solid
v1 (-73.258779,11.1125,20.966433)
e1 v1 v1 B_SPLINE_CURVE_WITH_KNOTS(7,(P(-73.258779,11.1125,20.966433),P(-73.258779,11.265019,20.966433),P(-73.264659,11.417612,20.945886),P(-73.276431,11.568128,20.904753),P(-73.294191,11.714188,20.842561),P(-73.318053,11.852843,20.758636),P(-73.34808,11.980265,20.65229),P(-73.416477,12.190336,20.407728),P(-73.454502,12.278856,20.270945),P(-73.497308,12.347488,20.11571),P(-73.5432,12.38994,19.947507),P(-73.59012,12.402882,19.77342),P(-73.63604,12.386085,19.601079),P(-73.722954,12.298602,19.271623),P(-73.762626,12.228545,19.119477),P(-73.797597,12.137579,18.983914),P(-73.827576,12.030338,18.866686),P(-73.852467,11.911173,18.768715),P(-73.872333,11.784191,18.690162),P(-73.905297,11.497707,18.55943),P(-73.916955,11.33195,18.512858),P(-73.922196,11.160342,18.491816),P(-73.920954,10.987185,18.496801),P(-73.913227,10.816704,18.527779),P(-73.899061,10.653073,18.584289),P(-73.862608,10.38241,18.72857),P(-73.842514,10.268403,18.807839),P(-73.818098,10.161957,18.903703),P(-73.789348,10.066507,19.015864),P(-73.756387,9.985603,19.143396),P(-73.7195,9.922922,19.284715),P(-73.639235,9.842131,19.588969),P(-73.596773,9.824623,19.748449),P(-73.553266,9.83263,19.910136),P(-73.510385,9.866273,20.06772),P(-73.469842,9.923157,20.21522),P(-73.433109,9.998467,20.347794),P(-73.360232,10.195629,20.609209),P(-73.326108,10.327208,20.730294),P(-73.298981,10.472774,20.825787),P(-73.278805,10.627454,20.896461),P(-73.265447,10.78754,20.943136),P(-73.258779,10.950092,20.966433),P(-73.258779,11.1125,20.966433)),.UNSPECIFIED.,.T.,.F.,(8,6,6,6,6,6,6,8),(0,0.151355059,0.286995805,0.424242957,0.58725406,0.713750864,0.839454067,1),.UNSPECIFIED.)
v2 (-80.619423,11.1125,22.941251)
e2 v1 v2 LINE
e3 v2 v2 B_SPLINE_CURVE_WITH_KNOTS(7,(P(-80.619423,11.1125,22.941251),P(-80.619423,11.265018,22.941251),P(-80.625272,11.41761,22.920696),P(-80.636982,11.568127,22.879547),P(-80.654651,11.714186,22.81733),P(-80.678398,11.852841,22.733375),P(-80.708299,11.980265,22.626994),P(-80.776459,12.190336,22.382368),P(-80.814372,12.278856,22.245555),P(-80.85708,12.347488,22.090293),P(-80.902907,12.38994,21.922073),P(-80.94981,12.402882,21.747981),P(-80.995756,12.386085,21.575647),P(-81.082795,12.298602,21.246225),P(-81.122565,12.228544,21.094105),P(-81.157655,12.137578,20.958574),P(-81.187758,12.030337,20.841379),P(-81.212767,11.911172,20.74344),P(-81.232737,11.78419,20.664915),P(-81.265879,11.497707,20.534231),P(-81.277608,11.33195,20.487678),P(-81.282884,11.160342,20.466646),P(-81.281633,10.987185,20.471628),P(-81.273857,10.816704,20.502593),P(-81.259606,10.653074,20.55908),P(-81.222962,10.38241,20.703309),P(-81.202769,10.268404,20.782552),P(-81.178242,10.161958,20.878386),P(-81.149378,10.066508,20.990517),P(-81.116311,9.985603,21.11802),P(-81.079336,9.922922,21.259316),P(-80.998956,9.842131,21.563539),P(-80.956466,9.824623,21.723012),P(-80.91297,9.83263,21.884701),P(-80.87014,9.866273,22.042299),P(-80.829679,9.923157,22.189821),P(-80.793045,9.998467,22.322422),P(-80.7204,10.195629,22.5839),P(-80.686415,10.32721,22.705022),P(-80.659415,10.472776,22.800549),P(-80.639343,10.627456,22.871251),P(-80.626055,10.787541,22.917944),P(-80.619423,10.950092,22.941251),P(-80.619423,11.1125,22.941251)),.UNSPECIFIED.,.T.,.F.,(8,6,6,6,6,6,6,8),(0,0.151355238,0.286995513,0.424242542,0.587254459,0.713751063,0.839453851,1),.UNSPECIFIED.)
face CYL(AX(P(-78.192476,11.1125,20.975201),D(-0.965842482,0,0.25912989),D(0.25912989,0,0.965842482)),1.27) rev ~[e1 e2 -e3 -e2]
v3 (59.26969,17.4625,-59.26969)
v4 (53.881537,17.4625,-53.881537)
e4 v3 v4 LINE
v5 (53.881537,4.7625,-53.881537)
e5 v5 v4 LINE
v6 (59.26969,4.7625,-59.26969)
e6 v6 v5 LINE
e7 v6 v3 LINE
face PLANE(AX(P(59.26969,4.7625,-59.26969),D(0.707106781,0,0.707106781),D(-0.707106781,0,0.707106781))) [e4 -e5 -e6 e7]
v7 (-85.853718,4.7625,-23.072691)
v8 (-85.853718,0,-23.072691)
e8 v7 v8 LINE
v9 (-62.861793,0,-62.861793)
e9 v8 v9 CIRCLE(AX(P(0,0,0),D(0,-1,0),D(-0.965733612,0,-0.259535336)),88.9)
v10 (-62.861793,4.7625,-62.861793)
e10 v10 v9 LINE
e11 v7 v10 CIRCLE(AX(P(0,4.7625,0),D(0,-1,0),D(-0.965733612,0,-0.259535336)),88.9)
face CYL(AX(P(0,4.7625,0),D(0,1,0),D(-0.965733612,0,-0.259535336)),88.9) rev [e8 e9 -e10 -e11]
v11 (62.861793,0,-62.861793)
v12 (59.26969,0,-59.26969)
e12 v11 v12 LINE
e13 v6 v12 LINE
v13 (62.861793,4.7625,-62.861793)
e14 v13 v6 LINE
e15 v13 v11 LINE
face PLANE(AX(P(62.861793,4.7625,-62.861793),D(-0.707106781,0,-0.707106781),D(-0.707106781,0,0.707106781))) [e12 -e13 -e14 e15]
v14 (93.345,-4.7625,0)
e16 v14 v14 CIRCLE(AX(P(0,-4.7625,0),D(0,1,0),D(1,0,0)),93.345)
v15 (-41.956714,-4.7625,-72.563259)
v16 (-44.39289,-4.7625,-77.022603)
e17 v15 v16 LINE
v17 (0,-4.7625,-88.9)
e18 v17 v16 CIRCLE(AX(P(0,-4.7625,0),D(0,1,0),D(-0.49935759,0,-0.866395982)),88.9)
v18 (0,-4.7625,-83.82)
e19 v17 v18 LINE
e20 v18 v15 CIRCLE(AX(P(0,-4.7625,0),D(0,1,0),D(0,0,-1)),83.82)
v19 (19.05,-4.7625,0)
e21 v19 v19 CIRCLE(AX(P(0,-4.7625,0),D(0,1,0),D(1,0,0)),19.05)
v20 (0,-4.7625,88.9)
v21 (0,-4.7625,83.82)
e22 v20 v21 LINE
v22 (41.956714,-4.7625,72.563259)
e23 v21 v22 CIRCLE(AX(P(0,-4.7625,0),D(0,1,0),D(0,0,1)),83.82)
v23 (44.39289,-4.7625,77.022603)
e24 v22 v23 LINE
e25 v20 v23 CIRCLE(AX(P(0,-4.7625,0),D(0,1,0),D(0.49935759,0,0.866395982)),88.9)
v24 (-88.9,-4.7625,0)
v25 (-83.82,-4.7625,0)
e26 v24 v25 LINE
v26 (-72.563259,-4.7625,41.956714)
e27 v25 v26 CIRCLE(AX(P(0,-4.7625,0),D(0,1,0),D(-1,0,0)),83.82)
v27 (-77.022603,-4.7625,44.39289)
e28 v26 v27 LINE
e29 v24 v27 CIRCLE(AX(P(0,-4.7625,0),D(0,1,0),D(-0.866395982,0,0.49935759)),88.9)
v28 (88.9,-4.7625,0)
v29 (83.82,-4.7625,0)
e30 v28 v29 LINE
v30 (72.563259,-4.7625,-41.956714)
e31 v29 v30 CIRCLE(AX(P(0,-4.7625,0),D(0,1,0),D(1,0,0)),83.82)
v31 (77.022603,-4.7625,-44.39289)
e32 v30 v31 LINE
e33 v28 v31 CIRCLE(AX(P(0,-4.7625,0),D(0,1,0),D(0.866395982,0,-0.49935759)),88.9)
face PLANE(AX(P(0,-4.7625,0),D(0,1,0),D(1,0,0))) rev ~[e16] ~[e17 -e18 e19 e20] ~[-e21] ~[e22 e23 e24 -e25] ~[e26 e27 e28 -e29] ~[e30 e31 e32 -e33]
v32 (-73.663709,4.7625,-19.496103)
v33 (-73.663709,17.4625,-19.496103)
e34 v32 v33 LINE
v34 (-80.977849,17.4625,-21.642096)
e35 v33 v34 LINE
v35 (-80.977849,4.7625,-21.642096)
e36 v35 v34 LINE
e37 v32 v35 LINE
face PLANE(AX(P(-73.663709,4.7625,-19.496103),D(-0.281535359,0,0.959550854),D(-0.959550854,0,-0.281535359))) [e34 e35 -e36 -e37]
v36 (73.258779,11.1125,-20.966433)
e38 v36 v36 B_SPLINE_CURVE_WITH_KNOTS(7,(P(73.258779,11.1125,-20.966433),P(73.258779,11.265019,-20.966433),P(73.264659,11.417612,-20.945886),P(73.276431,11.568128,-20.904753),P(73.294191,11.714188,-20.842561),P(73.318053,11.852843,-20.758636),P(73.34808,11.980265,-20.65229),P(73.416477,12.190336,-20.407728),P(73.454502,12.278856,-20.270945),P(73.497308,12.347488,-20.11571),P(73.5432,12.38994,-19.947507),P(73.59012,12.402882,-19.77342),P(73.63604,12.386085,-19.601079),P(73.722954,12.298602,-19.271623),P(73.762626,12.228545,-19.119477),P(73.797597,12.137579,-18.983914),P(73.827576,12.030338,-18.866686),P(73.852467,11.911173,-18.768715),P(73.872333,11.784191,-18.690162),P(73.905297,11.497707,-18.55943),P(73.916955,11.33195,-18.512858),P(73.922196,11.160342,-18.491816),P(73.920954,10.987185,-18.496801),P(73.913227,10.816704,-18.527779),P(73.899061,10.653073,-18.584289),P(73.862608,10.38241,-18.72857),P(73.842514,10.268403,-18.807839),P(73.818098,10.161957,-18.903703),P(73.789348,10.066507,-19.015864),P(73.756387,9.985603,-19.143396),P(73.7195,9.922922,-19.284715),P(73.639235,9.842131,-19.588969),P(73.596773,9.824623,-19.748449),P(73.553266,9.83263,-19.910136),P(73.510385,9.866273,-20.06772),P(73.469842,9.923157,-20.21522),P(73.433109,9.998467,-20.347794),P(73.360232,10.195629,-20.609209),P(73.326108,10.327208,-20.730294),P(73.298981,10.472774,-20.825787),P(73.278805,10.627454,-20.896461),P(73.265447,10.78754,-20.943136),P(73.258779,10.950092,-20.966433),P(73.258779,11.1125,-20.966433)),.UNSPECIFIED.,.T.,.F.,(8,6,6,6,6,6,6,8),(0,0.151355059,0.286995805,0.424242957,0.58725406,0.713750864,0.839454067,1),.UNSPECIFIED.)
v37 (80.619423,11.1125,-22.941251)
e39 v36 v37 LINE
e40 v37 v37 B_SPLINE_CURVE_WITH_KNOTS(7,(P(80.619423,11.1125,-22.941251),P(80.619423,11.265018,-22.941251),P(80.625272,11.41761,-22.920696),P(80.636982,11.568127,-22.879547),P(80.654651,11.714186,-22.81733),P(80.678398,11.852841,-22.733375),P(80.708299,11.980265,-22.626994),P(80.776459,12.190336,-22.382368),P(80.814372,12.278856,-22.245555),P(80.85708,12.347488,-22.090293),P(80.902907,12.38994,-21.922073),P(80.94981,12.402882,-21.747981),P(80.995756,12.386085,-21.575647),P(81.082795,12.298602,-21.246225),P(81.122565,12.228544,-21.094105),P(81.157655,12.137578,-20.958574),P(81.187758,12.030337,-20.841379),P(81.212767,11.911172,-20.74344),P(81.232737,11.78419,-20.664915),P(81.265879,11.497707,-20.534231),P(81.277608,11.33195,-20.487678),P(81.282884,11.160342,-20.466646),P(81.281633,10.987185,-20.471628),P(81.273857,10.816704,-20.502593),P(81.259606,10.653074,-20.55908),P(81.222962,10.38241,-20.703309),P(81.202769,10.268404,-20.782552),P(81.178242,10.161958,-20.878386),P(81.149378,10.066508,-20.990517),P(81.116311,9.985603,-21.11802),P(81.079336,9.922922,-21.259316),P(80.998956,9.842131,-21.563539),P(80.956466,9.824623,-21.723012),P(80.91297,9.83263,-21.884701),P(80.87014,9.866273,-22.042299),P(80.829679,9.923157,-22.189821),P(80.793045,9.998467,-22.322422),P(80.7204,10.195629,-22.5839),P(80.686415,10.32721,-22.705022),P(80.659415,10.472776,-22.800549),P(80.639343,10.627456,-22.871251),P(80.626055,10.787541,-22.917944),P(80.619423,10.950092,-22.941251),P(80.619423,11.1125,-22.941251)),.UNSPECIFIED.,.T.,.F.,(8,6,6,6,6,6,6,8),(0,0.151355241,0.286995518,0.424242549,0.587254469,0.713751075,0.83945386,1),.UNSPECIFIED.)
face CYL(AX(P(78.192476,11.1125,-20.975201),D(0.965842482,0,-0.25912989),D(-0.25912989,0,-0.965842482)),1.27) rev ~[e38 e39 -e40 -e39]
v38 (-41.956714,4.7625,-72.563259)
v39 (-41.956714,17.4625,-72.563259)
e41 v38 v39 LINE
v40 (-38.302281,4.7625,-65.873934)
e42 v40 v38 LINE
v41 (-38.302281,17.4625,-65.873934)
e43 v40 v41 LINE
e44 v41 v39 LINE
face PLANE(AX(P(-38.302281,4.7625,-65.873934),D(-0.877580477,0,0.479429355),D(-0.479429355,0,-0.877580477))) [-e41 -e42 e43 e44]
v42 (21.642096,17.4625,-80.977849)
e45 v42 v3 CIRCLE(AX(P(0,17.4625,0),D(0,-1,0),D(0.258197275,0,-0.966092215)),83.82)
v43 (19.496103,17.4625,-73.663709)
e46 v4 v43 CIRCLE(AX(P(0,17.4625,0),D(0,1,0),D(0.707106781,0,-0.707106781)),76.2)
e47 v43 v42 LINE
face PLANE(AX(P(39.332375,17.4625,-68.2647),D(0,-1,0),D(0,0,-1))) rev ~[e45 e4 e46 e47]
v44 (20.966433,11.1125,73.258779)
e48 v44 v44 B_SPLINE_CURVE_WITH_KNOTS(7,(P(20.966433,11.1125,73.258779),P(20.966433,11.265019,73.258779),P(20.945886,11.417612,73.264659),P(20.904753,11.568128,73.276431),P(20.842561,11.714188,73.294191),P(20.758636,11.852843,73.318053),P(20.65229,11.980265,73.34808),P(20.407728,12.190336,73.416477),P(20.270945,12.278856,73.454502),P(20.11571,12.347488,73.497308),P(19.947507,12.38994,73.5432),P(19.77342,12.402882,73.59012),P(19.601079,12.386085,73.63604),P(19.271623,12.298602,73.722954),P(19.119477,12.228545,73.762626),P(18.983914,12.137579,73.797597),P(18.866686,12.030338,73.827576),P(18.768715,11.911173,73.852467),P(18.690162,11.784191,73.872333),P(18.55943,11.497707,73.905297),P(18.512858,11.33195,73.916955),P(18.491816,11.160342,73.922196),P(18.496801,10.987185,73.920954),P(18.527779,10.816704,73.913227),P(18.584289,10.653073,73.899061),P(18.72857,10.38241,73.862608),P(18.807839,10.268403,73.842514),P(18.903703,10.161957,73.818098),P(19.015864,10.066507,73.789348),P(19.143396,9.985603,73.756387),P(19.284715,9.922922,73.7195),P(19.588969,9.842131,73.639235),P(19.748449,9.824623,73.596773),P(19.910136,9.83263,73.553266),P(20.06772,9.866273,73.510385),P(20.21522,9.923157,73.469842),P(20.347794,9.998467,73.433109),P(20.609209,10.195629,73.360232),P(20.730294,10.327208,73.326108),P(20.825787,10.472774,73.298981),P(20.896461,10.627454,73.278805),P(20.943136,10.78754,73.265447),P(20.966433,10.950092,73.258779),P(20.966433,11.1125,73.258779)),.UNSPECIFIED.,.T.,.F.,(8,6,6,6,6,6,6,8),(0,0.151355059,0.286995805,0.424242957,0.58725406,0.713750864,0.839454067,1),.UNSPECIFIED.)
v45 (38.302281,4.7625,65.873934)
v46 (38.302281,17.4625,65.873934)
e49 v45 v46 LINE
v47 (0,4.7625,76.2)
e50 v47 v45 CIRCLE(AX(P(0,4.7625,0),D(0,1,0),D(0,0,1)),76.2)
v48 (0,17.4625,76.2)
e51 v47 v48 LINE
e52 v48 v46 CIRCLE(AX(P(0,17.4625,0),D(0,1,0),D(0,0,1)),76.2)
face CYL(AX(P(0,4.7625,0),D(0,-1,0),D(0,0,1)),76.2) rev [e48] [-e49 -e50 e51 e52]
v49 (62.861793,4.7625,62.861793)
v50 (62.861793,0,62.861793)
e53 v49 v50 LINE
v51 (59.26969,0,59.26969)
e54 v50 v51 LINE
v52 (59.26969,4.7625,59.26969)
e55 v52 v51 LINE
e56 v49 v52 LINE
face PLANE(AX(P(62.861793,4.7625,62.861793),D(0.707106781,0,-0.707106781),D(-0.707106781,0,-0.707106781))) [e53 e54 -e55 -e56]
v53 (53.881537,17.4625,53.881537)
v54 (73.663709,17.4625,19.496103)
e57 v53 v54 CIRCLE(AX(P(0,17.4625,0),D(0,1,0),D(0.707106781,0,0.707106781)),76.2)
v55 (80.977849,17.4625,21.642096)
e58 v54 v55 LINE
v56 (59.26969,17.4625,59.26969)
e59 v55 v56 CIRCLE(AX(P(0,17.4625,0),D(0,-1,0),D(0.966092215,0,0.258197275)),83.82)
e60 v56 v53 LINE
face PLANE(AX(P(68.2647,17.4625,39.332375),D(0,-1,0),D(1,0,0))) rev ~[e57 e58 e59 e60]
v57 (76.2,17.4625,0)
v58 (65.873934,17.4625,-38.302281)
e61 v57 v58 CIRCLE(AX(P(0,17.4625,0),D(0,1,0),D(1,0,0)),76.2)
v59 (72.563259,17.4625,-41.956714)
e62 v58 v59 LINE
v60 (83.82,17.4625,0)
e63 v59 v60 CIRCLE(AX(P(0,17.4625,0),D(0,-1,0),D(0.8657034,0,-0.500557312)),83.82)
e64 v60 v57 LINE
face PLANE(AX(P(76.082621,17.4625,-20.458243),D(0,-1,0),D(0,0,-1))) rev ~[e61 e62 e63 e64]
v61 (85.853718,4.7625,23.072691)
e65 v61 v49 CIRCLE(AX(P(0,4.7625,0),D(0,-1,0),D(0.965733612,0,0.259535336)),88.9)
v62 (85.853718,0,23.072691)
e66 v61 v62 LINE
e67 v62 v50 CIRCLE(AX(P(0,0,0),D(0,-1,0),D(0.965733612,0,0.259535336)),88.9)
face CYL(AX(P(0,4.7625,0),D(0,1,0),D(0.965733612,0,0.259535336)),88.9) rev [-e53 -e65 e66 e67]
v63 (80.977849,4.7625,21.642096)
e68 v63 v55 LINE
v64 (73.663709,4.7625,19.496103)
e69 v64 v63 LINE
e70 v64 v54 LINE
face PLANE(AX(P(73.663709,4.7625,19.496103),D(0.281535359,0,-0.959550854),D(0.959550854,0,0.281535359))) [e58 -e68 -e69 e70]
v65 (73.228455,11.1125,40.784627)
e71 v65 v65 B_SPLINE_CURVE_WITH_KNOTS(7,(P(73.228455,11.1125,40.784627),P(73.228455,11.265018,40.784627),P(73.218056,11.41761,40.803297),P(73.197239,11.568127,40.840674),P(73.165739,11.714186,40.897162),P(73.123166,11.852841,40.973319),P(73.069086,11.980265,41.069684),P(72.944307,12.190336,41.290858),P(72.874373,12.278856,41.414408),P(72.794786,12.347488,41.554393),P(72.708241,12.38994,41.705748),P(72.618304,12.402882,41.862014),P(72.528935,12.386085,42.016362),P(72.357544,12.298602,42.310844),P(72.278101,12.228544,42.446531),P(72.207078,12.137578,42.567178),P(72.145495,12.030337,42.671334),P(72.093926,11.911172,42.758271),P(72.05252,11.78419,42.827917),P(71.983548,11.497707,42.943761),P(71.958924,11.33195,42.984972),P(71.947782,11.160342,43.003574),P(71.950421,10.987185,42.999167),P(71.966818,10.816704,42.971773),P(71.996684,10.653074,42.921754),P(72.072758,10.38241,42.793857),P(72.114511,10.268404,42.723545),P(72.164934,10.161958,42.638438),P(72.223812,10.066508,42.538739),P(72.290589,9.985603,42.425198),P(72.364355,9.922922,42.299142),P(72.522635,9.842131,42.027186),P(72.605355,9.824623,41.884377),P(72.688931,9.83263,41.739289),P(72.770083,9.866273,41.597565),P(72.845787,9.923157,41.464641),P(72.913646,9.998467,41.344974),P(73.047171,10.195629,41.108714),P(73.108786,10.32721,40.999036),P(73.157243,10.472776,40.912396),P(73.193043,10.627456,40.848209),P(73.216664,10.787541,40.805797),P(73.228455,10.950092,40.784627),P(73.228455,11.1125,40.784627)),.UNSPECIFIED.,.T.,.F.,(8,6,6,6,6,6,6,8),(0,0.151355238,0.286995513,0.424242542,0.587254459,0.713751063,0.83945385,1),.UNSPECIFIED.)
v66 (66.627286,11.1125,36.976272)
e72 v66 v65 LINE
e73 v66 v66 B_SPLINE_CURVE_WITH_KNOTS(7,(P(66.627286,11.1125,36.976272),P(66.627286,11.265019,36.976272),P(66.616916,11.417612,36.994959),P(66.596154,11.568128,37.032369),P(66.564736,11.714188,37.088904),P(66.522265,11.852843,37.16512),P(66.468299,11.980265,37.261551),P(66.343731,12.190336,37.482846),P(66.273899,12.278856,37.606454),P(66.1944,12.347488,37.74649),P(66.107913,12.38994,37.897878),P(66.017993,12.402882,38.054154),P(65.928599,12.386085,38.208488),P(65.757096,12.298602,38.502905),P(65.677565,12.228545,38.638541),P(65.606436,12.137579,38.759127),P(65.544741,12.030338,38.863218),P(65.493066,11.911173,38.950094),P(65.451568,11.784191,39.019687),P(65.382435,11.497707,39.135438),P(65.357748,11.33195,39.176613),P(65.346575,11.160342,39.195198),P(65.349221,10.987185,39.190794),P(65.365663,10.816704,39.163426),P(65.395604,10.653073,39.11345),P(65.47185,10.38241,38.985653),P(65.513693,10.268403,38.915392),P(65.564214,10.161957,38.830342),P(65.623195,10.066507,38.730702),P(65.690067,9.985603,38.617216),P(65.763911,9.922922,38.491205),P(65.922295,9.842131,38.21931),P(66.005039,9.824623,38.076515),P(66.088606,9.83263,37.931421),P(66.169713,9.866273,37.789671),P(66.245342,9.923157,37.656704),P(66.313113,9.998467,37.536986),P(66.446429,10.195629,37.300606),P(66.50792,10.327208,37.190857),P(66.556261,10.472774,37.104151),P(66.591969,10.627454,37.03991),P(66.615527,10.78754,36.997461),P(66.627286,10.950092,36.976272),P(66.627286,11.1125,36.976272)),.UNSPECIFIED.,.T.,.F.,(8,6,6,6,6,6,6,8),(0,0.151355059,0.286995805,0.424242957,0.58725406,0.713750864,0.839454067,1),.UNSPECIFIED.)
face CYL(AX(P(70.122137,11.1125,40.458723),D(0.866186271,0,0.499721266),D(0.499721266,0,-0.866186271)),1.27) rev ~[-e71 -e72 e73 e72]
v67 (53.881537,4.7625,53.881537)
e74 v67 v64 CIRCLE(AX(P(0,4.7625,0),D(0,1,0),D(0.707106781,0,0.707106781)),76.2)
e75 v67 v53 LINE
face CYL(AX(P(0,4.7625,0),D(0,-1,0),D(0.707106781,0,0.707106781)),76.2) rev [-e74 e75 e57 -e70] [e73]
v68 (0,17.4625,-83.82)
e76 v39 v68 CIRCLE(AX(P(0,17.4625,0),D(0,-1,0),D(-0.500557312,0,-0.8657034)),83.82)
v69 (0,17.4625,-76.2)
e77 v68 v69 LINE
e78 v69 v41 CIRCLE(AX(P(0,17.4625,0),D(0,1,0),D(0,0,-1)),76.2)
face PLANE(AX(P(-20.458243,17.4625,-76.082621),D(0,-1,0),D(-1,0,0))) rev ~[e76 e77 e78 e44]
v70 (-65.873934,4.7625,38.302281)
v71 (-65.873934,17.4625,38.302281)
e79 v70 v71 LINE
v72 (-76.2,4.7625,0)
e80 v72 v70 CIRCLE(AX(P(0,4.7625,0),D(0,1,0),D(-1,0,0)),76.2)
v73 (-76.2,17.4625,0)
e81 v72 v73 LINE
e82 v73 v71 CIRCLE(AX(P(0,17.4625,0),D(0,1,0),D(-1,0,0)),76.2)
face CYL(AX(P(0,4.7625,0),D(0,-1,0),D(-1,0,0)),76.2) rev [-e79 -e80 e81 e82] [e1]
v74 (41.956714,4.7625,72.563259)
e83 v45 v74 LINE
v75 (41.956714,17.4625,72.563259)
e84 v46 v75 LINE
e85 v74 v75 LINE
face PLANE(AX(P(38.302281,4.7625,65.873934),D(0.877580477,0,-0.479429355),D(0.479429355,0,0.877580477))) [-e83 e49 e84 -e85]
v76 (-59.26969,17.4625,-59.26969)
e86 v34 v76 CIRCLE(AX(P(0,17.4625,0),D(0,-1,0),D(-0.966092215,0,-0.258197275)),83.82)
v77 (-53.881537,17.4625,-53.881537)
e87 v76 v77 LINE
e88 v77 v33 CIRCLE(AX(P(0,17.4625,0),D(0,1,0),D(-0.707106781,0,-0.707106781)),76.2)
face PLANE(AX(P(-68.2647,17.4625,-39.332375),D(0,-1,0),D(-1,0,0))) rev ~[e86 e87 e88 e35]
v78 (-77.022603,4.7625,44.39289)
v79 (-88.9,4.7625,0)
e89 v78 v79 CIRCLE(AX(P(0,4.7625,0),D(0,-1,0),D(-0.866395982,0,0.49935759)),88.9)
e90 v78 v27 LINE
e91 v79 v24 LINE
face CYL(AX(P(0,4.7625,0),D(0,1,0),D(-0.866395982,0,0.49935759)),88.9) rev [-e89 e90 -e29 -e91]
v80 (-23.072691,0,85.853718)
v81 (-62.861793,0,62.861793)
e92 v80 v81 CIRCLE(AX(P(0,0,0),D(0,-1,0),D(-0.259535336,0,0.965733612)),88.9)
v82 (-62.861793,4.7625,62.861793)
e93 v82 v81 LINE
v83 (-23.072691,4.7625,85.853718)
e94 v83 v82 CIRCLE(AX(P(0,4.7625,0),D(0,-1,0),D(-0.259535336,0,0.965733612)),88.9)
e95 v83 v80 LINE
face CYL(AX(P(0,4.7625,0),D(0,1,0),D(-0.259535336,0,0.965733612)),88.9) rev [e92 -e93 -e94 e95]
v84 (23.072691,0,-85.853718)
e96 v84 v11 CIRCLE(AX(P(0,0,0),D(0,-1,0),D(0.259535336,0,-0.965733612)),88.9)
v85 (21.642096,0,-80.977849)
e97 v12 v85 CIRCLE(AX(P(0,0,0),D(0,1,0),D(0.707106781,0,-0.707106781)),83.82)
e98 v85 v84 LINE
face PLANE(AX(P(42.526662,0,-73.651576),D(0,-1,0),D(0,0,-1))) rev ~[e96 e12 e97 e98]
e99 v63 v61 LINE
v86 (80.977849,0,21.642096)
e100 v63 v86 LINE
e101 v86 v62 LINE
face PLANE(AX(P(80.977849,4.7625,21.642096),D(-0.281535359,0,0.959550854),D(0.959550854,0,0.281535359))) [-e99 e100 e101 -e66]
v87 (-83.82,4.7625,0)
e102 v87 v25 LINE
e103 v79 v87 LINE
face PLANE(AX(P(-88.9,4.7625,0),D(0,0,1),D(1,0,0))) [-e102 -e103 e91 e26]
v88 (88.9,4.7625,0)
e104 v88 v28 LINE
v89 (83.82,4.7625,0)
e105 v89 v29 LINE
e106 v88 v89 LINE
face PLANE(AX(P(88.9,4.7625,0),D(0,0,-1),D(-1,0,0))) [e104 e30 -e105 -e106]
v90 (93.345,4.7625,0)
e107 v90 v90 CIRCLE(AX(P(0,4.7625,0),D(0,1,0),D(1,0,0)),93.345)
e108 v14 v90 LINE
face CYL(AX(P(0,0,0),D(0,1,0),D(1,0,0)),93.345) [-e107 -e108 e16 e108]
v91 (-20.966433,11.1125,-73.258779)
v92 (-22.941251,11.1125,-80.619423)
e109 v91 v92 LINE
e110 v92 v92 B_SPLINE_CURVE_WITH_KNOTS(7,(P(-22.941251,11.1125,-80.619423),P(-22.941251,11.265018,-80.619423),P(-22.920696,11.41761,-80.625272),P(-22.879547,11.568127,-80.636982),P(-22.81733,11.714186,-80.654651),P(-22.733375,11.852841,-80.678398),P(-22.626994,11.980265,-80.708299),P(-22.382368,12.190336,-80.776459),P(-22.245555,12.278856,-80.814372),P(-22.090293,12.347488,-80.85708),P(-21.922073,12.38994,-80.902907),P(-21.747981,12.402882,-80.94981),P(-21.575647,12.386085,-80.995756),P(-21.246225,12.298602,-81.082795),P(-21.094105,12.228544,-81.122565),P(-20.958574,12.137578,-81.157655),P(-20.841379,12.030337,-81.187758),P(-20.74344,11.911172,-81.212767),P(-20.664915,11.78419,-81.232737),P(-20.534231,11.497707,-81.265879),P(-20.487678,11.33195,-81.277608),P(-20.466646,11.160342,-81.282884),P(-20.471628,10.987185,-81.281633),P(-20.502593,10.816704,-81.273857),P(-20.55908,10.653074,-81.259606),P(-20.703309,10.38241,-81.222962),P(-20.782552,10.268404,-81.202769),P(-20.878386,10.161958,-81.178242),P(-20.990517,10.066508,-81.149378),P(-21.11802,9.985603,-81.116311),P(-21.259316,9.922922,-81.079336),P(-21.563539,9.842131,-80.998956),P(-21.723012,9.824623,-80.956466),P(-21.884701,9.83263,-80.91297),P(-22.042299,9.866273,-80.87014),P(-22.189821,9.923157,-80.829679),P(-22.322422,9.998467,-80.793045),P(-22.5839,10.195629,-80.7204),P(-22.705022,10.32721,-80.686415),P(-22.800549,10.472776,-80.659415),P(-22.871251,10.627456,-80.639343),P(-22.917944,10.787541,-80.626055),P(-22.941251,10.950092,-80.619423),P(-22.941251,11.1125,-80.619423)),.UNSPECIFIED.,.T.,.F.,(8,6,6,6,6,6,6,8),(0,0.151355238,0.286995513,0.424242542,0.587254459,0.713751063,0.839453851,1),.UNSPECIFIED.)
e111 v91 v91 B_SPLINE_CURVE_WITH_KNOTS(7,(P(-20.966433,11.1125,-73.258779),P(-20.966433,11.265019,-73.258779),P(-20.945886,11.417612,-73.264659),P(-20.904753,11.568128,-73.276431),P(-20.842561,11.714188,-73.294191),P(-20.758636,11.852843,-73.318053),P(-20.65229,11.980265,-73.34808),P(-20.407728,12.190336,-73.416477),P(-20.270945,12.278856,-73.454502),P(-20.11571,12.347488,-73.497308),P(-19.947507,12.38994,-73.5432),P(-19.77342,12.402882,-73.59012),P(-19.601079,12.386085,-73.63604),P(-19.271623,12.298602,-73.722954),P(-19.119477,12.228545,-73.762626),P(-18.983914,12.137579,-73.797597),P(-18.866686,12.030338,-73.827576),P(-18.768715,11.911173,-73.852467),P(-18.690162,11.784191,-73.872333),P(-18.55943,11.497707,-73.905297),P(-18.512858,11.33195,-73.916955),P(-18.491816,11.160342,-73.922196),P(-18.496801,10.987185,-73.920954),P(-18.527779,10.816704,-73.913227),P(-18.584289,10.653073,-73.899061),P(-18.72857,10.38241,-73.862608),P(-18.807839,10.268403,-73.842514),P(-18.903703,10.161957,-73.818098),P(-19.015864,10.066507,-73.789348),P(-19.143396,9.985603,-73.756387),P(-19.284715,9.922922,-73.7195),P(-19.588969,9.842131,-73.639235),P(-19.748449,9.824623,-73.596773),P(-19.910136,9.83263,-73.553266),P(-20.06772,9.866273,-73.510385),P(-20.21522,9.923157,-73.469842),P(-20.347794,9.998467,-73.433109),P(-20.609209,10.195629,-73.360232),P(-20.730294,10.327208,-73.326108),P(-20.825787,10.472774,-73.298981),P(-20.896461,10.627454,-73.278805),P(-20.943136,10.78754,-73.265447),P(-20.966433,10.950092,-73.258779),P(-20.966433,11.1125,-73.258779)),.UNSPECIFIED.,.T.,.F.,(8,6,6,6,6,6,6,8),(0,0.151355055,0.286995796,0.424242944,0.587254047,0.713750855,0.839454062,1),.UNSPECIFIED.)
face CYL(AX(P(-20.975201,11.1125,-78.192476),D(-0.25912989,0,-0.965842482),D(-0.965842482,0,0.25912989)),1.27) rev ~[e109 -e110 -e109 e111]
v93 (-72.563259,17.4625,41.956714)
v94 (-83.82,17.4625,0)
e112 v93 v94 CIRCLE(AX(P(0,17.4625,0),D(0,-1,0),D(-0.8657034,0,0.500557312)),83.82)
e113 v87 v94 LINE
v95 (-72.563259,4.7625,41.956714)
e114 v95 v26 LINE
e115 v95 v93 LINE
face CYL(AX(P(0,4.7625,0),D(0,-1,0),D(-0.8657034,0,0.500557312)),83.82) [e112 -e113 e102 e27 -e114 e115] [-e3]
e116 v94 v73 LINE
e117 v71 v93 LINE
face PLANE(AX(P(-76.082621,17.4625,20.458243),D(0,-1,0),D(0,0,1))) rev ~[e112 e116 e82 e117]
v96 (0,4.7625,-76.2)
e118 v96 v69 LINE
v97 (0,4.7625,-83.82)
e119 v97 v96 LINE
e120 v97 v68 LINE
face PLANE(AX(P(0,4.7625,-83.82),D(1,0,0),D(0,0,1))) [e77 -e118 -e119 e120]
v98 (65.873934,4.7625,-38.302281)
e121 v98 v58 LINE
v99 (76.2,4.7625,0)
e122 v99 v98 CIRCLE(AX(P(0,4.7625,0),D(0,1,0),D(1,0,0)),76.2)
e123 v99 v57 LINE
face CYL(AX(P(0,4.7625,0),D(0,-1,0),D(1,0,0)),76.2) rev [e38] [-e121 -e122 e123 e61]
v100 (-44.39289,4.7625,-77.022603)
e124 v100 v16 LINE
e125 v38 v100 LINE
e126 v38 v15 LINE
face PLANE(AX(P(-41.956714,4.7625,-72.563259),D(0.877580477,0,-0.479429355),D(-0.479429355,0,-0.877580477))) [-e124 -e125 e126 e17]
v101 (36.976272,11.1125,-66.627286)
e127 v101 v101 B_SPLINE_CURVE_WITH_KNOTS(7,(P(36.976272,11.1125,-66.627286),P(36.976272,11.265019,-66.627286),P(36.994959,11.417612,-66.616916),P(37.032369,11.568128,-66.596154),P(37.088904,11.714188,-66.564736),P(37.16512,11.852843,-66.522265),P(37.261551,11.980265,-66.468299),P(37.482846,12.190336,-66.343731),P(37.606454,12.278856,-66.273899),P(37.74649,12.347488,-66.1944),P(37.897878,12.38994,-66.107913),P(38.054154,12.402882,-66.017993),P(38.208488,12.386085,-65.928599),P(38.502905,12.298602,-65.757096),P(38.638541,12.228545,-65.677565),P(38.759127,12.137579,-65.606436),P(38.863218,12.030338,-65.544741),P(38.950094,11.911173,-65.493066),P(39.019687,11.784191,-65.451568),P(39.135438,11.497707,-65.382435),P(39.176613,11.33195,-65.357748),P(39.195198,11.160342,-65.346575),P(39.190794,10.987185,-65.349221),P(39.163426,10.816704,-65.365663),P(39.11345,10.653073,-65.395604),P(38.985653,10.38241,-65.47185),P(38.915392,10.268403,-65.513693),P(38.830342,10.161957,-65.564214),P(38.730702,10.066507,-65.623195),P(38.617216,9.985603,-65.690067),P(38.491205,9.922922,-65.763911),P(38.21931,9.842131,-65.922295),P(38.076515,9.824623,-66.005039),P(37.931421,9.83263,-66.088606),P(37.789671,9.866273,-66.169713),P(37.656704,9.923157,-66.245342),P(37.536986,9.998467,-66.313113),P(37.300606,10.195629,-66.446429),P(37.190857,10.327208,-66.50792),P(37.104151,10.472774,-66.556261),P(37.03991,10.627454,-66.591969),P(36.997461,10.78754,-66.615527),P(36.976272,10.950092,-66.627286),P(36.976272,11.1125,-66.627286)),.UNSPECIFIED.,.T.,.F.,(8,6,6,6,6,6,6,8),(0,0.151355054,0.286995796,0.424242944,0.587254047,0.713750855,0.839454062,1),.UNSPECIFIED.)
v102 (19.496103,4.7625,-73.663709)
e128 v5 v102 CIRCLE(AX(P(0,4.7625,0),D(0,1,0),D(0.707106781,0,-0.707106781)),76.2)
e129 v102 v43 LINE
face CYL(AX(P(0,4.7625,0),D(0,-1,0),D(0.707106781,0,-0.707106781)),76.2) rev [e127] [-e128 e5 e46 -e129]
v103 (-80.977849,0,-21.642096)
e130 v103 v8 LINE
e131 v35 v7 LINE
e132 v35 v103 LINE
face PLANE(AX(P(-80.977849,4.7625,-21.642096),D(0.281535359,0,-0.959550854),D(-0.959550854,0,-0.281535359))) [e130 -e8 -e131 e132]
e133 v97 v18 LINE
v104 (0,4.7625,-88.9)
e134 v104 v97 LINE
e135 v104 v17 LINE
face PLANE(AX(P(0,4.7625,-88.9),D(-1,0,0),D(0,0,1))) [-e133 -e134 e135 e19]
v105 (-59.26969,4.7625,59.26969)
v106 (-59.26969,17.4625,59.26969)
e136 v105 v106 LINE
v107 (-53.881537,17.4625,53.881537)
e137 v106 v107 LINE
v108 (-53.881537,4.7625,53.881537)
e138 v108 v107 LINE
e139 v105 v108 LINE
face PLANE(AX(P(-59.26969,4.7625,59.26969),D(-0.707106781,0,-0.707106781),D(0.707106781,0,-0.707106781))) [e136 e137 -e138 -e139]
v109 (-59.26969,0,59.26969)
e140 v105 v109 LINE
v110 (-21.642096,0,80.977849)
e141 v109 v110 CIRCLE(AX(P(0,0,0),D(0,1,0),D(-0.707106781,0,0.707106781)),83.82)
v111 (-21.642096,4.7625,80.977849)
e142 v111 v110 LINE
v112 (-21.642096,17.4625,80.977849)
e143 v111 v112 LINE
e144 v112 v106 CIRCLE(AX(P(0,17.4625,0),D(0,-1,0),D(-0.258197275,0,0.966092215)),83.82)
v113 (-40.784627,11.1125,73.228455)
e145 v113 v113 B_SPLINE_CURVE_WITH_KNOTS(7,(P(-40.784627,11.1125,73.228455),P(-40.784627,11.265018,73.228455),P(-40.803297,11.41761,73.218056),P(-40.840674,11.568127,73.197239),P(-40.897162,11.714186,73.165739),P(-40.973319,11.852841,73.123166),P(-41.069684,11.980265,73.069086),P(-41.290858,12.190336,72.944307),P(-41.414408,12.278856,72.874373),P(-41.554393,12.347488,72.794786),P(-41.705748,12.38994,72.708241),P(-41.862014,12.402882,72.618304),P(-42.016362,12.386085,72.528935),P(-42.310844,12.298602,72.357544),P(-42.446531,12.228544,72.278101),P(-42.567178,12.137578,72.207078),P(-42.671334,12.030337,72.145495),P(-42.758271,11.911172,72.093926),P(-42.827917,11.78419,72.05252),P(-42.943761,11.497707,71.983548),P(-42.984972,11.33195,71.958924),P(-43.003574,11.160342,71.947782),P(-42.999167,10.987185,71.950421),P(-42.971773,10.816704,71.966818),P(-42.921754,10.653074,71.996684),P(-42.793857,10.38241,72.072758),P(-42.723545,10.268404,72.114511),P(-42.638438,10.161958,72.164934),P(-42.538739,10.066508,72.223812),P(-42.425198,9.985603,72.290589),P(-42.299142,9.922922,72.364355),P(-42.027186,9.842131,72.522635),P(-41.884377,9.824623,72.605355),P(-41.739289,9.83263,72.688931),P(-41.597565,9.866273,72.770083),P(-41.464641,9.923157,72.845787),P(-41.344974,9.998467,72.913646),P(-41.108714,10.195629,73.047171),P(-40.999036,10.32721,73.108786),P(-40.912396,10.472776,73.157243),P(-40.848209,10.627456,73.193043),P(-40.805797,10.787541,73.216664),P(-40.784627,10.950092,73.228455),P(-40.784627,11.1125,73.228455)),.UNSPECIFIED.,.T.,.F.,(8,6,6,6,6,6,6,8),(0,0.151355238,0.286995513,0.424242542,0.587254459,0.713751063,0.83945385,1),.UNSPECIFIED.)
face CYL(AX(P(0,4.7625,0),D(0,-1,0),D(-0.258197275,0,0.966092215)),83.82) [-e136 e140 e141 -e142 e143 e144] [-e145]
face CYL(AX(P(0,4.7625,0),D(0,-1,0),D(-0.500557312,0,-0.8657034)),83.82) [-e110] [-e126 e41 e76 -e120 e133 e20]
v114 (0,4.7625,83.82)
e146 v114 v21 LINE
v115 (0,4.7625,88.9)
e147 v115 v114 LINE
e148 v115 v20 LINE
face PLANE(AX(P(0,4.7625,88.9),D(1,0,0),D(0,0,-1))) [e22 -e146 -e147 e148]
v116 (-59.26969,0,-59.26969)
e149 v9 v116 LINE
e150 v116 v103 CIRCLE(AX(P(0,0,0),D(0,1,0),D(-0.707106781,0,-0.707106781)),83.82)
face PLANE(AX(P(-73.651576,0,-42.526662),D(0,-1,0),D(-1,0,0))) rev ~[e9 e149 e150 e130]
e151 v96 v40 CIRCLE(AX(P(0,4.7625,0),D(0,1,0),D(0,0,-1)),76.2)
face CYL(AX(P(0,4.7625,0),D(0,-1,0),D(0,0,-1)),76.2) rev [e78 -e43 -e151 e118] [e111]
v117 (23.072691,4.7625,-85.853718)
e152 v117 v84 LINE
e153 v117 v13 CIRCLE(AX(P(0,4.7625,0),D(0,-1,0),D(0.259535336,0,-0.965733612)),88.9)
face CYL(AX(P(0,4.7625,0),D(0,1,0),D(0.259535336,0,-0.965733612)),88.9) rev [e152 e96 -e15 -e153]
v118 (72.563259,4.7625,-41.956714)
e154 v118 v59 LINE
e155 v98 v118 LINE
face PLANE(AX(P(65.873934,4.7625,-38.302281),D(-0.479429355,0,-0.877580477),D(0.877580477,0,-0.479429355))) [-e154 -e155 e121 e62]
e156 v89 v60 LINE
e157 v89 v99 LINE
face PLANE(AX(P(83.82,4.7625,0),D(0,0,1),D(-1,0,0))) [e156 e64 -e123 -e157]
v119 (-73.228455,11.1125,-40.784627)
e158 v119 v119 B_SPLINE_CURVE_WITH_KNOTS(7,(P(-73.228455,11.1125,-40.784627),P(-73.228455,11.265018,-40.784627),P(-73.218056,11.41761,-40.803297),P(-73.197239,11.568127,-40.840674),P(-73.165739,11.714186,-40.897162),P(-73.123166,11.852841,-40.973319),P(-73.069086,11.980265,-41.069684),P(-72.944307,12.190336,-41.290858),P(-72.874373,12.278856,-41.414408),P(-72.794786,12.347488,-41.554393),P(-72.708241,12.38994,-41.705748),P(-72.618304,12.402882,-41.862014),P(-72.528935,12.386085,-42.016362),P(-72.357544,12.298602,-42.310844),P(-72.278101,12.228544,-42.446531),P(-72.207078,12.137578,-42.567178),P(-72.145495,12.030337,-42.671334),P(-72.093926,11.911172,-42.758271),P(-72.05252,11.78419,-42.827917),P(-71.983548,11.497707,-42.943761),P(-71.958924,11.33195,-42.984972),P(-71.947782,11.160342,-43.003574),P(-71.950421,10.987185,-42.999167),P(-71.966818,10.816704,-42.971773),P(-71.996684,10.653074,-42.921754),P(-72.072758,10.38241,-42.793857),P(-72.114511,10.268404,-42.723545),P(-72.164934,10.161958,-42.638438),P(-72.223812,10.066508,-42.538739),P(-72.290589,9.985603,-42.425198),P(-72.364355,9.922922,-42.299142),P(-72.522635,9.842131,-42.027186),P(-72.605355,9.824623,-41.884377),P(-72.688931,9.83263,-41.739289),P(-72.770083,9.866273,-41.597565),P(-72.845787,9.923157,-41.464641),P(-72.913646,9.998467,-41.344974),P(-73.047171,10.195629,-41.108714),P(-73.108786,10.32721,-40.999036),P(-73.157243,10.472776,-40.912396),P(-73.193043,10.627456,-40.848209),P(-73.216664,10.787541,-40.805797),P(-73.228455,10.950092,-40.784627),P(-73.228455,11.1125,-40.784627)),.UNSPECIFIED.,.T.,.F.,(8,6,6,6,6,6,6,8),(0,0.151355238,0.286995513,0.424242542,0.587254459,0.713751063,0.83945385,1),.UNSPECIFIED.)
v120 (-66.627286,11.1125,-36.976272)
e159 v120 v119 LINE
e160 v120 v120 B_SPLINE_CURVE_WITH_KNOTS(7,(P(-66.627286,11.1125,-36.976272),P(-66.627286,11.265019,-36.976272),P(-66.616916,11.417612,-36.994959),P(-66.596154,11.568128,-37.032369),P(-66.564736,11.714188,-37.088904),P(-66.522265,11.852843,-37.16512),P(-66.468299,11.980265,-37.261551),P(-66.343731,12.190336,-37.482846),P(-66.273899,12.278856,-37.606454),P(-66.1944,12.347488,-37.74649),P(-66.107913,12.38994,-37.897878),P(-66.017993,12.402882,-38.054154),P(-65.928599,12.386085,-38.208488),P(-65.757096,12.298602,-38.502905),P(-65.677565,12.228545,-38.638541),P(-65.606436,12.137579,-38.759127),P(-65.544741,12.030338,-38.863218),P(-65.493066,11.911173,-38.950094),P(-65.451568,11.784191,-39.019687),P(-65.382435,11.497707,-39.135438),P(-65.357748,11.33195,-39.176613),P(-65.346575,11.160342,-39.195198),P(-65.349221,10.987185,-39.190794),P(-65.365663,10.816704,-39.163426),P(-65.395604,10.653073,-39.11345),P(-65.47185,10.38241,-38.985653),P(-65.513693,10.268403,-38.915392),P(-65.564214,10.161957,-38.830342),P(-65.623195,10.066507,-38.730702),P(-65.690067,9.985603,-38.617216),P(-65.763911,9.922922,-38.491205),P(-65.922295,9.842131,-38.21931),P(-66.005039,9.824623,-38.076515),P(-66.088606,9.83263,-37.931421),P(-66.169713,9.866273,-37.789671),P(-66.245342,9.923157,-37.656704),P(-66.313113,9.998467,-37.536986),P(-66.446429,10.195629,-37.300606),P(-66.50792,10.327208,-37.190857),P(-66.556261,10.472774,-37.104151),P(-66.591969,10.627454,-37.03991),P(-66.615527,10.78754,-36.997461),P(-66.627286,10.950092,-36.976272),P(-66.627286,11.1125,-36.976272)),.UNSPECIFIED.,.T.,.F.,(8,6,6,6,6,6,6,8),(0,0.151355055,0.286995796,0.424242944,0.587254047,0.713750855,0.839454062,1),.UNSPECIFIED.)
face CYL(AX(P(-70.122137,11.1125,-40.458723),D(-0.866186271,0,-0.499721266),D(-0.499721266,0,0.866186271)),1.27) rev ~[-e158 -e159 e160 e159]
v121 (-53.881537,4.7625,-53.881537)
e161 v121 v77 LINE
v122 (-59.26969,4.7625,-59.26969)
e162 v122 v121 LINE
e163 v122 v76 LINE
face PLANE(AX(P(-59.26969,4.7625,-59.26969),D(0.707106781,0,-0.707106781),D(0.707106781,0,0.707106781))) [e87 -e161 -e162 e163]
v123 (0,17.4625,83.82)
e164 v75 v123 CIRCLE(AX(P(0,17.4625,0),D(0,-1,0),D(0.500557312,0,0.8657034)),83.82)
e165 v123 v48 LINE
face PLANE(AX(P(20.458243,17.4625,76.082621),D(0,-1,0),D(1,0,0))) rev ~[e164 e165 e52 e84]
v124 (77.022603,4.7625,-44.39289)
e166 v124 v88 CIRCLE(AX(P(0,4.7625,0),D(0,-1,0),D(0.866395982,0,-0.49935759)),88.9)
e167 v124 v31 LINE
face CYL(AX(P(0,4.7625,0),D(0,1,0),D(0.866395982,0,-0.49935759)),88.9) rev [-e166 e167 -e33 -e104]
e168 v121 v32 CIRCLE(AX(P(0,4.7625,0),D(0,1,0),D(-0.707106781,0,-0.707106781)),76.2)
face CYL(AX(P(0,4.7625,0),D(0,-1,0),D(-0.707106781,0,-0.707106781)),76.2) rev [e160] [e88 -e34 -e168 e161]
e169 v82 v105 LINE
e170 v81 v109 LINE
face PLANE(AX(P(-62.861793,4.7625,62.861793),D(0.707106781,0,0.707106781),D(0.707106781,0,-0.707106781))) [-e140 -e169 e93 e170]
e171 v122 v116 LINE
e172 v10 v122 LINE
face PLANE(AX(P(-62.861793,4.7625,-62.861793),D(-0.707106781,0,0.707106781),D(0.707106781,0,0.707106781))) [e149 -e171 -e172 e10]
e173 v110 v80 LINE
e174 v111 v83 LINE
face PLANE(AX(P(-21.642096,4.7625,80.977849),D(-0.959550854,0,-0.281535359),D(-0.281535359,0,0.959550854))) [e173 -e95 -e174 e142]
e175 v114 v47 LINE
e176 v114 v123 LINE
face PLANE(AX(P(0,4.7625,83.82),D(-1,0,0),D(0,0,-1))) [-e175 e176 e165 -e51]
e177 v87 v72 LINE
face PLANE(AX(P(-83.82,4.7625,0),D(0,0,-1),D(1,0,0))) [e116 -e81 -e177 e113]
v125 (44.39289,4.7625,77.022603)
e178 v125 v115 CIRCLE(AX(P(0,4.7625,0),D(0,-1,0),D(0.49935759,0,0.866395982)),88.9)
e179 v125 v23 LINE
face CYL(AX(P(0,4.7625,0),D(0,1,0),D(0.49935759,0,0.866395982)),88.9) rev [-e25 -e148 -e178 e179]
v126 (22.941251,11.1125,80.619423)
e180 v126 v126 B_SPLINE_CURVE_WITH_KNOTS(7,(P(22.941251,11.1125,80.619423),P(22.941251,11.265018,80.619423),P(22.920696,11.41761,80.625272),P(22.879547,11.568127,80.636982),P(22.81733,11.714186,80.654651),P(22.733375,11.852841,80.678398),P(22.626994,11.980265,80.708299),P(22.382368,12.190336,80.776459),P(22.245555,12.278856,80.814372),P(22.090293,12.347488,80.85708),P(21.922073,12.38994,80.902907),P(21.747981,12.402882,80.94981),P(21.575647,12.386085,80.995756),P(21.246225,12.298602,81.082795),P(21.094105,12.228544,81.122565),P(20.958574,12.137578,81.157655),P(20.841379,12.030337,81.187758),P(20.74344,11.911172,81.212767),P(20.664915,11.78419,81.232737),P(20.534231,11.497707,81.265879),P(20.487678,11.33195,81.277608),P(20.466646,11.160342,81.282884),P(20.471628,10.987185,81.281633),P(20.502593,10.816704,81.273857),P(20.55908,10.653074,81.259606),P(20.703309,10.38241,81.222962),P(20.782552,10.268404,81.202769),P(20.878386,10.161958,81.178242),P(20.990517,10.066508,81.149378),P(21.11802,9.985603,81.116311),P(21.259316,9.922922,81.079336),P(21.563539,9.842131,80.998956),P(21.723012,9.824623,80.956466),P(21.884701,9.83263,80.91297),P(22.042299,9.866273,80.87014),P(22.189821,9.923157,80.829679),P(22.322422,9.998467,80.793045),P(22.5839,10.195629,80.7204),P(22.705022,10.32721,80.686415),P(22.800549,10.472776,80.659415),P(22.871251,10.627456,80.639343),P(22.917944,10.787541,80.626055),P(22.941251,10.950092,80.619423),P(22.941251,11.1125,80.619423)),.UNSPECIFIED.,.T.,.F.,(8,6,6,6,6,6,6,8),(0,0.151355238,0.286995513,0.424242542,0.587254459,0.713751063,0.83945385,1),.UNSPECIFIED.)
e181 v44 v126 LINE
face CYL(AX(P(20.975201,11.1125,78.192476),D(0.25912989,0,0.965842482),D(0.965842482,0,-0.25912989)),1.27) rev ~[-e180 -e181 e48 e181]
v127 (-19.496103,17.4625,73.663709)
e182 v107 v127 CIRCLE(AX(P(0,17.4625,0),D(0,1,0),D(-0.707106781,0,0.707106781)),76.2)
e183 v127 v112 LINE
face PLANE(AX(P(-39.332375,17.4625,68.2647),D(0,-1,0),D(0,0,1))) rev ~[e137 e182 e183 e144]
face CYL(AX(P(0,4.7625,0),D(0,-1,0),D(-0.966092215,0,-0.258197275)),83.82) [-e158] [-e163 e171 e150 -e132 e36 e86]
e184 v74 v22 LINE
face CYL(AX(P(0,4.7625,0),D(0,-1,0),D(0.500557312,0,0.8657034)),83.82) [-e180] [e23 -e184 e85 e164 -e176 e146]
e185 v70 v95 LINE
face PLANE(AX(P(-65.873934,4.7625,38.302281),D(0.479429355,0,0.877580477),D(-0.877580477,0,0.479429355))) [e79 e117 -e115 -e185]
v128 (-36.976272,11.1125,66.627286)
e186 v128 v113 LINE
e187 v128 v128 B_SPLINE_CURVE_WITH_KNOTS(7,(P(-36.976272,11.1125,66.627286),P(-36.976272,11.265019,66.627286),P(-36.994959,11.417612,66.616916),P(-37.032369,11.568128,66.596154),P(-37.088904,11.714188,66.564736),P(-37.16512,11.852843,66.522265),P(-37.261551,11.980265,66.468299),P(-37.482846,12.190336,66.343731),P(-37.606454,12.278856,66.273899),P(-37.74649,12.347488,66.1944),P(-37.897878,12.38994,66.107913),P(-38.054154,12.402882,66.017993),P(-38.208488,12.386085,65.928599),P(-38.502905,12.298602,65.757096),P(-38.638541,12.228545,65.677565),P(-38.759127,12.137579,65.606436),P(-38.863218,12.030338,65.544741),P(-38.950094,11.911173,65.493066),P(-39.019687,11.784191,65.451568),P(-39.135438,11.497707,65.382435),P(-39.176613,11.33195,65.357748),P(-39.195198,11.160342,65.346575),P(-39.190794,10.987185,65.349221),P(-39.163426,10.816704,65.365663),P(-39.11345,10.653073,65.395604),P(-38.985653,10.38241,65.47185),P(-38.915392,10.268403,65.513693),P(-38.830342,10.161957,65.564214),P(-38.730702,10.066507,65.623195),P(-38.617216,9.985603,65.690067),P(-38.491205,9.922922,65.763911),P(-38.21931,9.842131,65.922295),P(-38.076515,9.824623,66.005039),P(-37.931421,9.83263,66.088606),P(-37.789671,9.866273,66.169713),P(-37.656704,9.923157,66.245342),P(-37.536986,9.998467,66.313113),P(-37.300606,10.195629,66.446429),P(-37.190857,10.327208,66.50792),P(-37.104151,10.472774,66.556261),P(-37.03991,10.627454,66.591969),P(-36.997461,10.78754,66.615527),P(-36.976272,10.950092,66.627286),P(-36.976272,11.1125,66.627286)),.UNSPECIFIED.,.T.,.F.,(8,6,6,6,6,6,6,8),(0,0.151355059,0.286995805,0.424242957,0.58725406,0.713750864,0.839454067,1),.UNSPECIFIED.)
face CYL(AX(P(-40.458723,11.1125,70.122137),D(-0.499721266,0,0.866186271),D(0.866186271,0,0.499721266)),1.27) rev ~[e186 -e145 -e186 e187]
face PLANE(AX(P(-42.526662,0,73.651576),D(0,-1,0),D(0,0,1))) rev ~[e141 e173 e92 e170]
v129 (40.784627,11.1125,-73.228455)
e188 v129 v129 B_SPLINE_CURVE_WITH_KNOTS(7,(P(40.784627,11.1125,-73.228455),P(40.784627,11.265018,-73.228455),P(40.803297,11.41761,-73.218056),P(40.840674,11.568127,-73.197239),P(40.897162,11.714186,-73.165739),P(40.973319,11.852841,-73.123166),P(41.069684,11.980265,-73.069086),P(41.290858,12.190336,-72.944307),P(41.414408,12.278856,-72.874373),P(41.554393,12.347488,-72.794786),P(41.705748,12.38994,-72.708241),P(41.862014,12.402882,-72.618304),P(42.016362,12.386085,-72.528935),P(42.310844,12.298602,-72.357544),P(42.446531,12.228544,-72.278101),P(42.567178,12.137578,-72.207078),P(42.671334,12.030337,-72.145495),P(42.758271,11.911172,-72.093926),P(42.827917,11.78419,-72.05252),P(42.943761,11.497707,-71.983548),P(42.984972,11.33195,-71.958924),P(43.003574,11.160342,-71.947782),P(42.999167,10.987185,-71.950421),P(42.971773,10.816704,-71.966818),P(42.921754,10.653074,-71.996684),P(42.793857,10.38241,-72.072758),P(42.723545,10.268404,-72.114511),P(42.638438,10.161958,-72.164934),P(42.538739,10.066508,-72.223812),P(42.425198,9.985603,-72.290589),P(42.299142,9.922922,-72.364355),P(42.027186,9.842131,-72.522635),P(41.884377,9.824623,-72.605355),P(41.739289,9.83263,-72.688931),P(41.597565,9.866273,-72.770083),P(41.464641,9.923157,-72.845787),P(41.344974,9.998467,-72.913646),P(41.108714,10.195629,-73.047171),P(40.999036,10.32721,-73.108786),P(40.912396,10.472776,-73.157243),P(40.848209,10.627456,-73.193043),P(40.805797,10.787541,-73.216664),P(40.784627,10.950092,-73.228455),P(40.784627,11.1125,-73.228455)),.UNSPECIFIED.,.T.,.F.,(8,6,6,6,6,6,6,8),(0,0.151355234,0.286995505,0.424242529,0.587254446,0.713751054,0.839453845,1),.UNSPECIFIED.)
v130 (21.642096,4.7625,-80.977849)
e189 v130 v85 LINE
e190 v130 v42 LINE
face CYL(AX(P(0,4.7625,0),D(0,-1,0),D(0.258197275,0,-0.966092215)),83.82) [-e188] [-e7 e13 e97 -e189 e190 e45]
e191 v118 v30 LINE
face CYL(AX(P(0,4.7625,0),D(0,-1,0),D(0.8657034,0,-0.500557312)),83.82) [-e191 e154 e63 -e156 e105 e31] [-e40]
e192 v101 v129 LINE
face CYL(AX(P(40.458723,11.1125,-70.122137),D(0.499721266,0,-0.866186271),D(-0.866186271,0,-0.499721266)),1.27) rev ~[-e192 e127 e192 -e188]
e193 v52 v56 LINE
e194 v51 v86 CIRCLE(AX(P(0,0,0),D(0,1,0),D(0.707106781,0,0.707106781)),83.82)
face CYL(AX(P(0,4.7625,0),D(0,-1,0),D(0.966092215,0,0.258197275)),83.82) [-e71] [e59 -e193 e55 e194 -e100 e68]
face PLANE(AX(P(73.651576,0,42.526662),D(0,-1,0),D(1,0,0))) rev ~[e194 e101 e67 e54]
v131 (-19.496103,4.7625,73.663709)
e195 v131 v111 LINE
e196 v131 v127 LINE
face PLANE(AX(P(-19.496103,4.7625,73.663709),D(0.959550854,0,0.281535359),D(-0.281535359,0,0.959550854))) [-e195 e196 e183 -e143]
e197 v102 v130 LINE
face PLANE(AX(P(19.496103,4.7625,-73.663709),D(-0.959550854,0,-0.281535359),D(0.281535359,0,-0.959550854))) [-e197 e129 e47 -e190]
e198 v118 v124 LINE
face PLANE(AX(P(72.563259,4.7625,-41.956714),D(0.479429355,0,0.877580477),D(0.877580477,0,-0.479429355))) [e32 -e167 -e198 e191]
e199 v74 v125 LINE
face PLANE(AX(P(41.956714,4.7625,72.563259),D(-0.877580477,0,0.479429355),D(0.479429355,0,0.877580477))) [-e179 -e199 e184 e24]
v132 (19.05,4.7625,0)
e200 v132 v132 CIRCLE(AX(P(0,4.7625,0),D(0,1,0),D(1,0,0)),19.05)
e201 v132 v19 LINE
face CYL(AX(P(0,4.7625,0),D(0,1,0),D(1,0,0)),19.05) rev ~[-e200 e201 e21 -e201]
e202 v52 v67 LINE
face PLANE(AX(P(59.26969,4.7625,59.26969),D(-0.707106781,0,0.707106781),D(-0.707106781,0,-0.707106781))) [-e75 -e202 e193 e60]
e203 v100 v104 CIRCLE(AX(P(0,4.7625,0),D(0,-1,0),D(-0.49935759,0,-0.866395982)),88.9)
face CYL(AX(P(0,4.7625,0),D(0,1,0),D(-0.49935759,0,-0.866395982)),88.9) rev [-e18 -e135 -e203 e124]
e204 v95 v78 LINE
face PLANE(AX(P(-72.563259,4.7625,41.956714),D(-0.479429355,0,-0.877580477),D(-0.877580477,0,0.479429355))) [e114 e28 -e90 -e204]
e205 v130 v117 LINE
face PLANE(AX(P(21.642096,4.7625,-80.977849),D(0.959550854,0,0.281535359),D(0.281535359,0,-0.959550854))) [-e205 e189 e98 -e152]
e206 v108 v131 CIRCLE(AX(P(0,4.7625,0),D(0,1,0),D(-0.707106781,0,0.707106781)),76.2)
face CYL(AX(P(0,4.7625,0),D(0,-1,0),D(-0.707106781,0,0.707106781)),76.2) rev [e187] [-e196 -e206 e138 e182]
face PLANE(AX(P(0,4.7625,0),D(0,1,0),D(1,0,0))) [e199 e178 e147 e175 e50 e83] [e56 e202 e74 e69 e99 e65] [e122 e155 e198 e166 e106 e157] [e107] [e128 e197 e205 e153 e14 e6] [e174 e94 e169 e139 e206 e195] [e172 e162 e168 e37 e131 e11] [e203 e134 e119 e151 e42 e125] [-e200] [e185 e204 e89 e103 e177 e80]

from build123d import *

# Parameters (mm, degrees)
BASE_DEPTH                 = 4.7625
BASE_DEPTH_BACK            = 4.7625
SKETCH1_R                  = 93.345
BOTTOM_SUPPORT_HOLES_DEPTH = 133.352951138
BOTTOM_START               = 12.7
BOTTOM_SUPPORT_GUIDE_DEPTH = 12.7
SKETCH6_R                  = 1.27
BOTTOM_BOLT_HOLE_DEPTH     = 12.7
TOP_SUPPORT_HOLES_DEPTH    = 4.7625
TOP_START                  = 12.7
TOP_SUPPORT_GUIDE_DEPTH    = 12.7
SKETCH12_R                 = 1.27
TOP_BOLT_HOLE_DEPTH        = 12.7
BOTTOM_PATTERN_COUNT       = 4
CIRPATTERN3_COUNT          = 4
SKETCH13_R                 = 19.05
GIMBAL_HOLE_DEPTH          = 25.908


with BuildPart() as part:
    # Sketch1 → Base (new, two sides: drawn at the far end of the back side and taken through both)
    with BuildSketch(Plane(origin=(0, 0, 0), x_dir=(1, 0, 0), z_dir=(0, 1, 0)).offset(-BASE_DEPTH_BACK)):
        Circle(SKETCH1_R)
    extrude(amount=BASE_DEPTH + BASE_DEPTH_BACK)

    # Sketch2 → Bottom support holes (cut, through all)
    with BuildSketch(Plane(origin=(0, 4.7625, 0), x_dir=(1, 0, 0), z_dir=(0, 1, 0))):
        with BuildLine():
            Line((0, 88.9), (0, 83.82))
            ThreePointArc((0, 83.82), (-21.72026739, 80.956916842), (-41.956713931, 72.563258996))
            Line((-41.956713931, 72.563258996), (-44.39288973, 77.022602796))
            ThreePointArc((-44.39288973, 77.022602796), (-22.977169228, 85.879332172), (0, 88.9))
        make_face()
    bottom_support_holes = extrude(amount=-BOTTOM_SUPPORT_HOLES_DEPTH, mode=Mode.SUBTRACT)

    # Sketch3 → Bottom support guide (add)
    with BuildSketch(Plane(origin=(0, 4.7625, 0), x_dir=(1, 0, 0), z_dir=(0, 1, 0)).offset(BOTTOM_START)):
        with BuildLine():
            Line((0, 83.82), (0, 76.2))
            ThreePointArc((0, 76.2), (-19.834896001, 73.573207764), (-38.302281481, 65.8739344))
            Line((-38.302281481, 65.8739344), (-41.956713931, 72.563258996))
            ThreePointArc((-41.956713931, 72.563258996), (-21.72026739, 80.956916842), (0, 83.82))
        make_face()
    bottom_support_guide = extrude(amount=-BOTTOM_SUPPORT_GUIDE_DEPTH)

    # Sketch6 → Bottom bolt hole (cut, symmetric)
    with BuildSketch(Plane(origin=(-20.978356966, 0, -78.191629498), x_dir=(-0.9658424820058785, 0, 0.2591298901183038), z_dir=(-0.2591298901183038, 0, -0.9658424820058785))):
        with Locations((-0.00326739, 11.1125)):
            Circle(SKETCH6_R)
    bottom_bolt_hole = extrude(amount=BOTTOM_BOLT_HOLE_DEPTH, both=True, mode=Mode.SUBTRACT)

    # Sketch8 → Top support holes (cut)
    with BuildSketch(Plane(origin=(-31.122978549, 4.7625, 77.296707326), x_dir=(1, 0, 0), z_dir=(0, 1, 0))):
        with BuildLine():
            Line((-31.738814298, 140.158500173), (-28.14671185, 136.566397725))
            ThreePointArc((-28.14671185, 136.566397725), (-41.480754694, 119.183343848), (-49.854870889, 98.93880289))
            Line((-49.854870889, 98.93880289), (-54.730739557, 100.369398703))
            ThreePointArc((-54.730739557, 100.369398703), (-45.850191767, 121.775253295), (-31.738814298, 140.158500173))
        make_face()
    top_support_holes = extrude(amount=-TOP_SUPPORT_HOLES_DEPTH, mode=Mode.SUBTRACT)

    # Sketch10 → Top support guide (add)
    with BuildSketch(Plane(origin=(-31.122978549, 4.7625, 77.296707326), x_dir=(1, 0, 0), z_dir=(0, 1, 0)).offset(TOP_START)):
        with BuildLine():
            Line((-28.14671185, 136.566397725), (-22.758558177, 131.178244052))
            ThreePointArc((-22.758558177, 131.178244052), (-34.92652504, 115.295431983), (-42.540730139, 96.792810073))
            Line((-42.540730139, 96.792810073), (-49.854870889, 98.93880289))
            ThreePointArc((-49.854870889, 98.93880289), (-41.480754694, 119.183343848), (-28.14671185, 136.566397725))
        make_face()
    top_support_guide = extrude(amount=-TOP_SUPPORT_GUIDE_DEPTH)

    # Sketch12 → Top bolt hole (cut, symmetric)
    with BuildSketch(Plane(origin=(-70.123769919, 0, -40.455892982), x_dir=(-0.4997212660736201, -5.817861610189737e-15, 0.8661862710951832), z_dir=(-0.8661862710951832, 1.404556040332972e-14, -0.4997212660736201))):
        with Locations((-0.00326739, 11.1125)):
            Circle(SKETCH12_R)
    top_bolt_hole = extrude(amount=TOP_BOLT_HOLE_DEPTH, both=True, mode=Mode.SUBTRACT)

    # Bottom pattern: Bottom support holes, Bottom support guide, Bottom bolt hole ×4 about axis
    bottom_pattern_axis = Axis((0, 4.7625, 0), (0, 1, 0))
    add([bottom_support_holes.rotate(bottom_pattern_axis, i * 360 / BOTTOM_PATTERN_COUNT) for i in range(1, BOTTOM_PATTERN_COUNT)], mode=Mode.SUBTRACT)
    add([bottom_support_guide.rotate(bottom_pattern_axis, i * 360 / BOTTOM_PATTERN_COUNT) for i in range(1, BOTTOM_PATTERN_COUNT)])
    add([bottom_bolt_hole.rotate(bottom_pattern_axis, i * 360 / BOTTOM_PATTERN_COUNT) for i in range(1, BOTTOM_PATTERN_COUNT)], mode=Mode.SUBTRACT)

    # CirPattern3: Top support holes, Top support guide, Top bolt hole ×4 about axis
    cirpattern3_axis = Axis((0, 4.7625, 0), (0, 1, 0))
    add([top_support_holes.rotate(cirpattern3_axis, i * 360 / CIRPATTERN3_COUNT) for i in range(1, CIRPATTERN3_COUNT)], mode=Mode.SUBTRACT)
    add([top_support_guide.rotate(cirpattern3_axis, i * 360 / CIRPATTERN3_COUNT) for i in range(1, CIRPATTERN3_COUNT)])
    add([top_bolt_hole.rotate(cirpattern3_axis, i * 360 / CIRPATTERN3_COUNT) for i in range(1, CIRPATTERN3_COUNT)], mode=Mode.SUBTRACT)

    # Sketch13 → Gimbal Hole (cut)
    with BuildSketch(Plane(origin=(0, 4.7625, 0), x_dir=(1, 0, 0), z_dir=(0, 1, 0))):
        Circle(SKETCH13_R)
    extrude(amount=-GIMBAL_HOLE_DEPTH, mode=Mode.SUBTRACT)


solid = part.part
